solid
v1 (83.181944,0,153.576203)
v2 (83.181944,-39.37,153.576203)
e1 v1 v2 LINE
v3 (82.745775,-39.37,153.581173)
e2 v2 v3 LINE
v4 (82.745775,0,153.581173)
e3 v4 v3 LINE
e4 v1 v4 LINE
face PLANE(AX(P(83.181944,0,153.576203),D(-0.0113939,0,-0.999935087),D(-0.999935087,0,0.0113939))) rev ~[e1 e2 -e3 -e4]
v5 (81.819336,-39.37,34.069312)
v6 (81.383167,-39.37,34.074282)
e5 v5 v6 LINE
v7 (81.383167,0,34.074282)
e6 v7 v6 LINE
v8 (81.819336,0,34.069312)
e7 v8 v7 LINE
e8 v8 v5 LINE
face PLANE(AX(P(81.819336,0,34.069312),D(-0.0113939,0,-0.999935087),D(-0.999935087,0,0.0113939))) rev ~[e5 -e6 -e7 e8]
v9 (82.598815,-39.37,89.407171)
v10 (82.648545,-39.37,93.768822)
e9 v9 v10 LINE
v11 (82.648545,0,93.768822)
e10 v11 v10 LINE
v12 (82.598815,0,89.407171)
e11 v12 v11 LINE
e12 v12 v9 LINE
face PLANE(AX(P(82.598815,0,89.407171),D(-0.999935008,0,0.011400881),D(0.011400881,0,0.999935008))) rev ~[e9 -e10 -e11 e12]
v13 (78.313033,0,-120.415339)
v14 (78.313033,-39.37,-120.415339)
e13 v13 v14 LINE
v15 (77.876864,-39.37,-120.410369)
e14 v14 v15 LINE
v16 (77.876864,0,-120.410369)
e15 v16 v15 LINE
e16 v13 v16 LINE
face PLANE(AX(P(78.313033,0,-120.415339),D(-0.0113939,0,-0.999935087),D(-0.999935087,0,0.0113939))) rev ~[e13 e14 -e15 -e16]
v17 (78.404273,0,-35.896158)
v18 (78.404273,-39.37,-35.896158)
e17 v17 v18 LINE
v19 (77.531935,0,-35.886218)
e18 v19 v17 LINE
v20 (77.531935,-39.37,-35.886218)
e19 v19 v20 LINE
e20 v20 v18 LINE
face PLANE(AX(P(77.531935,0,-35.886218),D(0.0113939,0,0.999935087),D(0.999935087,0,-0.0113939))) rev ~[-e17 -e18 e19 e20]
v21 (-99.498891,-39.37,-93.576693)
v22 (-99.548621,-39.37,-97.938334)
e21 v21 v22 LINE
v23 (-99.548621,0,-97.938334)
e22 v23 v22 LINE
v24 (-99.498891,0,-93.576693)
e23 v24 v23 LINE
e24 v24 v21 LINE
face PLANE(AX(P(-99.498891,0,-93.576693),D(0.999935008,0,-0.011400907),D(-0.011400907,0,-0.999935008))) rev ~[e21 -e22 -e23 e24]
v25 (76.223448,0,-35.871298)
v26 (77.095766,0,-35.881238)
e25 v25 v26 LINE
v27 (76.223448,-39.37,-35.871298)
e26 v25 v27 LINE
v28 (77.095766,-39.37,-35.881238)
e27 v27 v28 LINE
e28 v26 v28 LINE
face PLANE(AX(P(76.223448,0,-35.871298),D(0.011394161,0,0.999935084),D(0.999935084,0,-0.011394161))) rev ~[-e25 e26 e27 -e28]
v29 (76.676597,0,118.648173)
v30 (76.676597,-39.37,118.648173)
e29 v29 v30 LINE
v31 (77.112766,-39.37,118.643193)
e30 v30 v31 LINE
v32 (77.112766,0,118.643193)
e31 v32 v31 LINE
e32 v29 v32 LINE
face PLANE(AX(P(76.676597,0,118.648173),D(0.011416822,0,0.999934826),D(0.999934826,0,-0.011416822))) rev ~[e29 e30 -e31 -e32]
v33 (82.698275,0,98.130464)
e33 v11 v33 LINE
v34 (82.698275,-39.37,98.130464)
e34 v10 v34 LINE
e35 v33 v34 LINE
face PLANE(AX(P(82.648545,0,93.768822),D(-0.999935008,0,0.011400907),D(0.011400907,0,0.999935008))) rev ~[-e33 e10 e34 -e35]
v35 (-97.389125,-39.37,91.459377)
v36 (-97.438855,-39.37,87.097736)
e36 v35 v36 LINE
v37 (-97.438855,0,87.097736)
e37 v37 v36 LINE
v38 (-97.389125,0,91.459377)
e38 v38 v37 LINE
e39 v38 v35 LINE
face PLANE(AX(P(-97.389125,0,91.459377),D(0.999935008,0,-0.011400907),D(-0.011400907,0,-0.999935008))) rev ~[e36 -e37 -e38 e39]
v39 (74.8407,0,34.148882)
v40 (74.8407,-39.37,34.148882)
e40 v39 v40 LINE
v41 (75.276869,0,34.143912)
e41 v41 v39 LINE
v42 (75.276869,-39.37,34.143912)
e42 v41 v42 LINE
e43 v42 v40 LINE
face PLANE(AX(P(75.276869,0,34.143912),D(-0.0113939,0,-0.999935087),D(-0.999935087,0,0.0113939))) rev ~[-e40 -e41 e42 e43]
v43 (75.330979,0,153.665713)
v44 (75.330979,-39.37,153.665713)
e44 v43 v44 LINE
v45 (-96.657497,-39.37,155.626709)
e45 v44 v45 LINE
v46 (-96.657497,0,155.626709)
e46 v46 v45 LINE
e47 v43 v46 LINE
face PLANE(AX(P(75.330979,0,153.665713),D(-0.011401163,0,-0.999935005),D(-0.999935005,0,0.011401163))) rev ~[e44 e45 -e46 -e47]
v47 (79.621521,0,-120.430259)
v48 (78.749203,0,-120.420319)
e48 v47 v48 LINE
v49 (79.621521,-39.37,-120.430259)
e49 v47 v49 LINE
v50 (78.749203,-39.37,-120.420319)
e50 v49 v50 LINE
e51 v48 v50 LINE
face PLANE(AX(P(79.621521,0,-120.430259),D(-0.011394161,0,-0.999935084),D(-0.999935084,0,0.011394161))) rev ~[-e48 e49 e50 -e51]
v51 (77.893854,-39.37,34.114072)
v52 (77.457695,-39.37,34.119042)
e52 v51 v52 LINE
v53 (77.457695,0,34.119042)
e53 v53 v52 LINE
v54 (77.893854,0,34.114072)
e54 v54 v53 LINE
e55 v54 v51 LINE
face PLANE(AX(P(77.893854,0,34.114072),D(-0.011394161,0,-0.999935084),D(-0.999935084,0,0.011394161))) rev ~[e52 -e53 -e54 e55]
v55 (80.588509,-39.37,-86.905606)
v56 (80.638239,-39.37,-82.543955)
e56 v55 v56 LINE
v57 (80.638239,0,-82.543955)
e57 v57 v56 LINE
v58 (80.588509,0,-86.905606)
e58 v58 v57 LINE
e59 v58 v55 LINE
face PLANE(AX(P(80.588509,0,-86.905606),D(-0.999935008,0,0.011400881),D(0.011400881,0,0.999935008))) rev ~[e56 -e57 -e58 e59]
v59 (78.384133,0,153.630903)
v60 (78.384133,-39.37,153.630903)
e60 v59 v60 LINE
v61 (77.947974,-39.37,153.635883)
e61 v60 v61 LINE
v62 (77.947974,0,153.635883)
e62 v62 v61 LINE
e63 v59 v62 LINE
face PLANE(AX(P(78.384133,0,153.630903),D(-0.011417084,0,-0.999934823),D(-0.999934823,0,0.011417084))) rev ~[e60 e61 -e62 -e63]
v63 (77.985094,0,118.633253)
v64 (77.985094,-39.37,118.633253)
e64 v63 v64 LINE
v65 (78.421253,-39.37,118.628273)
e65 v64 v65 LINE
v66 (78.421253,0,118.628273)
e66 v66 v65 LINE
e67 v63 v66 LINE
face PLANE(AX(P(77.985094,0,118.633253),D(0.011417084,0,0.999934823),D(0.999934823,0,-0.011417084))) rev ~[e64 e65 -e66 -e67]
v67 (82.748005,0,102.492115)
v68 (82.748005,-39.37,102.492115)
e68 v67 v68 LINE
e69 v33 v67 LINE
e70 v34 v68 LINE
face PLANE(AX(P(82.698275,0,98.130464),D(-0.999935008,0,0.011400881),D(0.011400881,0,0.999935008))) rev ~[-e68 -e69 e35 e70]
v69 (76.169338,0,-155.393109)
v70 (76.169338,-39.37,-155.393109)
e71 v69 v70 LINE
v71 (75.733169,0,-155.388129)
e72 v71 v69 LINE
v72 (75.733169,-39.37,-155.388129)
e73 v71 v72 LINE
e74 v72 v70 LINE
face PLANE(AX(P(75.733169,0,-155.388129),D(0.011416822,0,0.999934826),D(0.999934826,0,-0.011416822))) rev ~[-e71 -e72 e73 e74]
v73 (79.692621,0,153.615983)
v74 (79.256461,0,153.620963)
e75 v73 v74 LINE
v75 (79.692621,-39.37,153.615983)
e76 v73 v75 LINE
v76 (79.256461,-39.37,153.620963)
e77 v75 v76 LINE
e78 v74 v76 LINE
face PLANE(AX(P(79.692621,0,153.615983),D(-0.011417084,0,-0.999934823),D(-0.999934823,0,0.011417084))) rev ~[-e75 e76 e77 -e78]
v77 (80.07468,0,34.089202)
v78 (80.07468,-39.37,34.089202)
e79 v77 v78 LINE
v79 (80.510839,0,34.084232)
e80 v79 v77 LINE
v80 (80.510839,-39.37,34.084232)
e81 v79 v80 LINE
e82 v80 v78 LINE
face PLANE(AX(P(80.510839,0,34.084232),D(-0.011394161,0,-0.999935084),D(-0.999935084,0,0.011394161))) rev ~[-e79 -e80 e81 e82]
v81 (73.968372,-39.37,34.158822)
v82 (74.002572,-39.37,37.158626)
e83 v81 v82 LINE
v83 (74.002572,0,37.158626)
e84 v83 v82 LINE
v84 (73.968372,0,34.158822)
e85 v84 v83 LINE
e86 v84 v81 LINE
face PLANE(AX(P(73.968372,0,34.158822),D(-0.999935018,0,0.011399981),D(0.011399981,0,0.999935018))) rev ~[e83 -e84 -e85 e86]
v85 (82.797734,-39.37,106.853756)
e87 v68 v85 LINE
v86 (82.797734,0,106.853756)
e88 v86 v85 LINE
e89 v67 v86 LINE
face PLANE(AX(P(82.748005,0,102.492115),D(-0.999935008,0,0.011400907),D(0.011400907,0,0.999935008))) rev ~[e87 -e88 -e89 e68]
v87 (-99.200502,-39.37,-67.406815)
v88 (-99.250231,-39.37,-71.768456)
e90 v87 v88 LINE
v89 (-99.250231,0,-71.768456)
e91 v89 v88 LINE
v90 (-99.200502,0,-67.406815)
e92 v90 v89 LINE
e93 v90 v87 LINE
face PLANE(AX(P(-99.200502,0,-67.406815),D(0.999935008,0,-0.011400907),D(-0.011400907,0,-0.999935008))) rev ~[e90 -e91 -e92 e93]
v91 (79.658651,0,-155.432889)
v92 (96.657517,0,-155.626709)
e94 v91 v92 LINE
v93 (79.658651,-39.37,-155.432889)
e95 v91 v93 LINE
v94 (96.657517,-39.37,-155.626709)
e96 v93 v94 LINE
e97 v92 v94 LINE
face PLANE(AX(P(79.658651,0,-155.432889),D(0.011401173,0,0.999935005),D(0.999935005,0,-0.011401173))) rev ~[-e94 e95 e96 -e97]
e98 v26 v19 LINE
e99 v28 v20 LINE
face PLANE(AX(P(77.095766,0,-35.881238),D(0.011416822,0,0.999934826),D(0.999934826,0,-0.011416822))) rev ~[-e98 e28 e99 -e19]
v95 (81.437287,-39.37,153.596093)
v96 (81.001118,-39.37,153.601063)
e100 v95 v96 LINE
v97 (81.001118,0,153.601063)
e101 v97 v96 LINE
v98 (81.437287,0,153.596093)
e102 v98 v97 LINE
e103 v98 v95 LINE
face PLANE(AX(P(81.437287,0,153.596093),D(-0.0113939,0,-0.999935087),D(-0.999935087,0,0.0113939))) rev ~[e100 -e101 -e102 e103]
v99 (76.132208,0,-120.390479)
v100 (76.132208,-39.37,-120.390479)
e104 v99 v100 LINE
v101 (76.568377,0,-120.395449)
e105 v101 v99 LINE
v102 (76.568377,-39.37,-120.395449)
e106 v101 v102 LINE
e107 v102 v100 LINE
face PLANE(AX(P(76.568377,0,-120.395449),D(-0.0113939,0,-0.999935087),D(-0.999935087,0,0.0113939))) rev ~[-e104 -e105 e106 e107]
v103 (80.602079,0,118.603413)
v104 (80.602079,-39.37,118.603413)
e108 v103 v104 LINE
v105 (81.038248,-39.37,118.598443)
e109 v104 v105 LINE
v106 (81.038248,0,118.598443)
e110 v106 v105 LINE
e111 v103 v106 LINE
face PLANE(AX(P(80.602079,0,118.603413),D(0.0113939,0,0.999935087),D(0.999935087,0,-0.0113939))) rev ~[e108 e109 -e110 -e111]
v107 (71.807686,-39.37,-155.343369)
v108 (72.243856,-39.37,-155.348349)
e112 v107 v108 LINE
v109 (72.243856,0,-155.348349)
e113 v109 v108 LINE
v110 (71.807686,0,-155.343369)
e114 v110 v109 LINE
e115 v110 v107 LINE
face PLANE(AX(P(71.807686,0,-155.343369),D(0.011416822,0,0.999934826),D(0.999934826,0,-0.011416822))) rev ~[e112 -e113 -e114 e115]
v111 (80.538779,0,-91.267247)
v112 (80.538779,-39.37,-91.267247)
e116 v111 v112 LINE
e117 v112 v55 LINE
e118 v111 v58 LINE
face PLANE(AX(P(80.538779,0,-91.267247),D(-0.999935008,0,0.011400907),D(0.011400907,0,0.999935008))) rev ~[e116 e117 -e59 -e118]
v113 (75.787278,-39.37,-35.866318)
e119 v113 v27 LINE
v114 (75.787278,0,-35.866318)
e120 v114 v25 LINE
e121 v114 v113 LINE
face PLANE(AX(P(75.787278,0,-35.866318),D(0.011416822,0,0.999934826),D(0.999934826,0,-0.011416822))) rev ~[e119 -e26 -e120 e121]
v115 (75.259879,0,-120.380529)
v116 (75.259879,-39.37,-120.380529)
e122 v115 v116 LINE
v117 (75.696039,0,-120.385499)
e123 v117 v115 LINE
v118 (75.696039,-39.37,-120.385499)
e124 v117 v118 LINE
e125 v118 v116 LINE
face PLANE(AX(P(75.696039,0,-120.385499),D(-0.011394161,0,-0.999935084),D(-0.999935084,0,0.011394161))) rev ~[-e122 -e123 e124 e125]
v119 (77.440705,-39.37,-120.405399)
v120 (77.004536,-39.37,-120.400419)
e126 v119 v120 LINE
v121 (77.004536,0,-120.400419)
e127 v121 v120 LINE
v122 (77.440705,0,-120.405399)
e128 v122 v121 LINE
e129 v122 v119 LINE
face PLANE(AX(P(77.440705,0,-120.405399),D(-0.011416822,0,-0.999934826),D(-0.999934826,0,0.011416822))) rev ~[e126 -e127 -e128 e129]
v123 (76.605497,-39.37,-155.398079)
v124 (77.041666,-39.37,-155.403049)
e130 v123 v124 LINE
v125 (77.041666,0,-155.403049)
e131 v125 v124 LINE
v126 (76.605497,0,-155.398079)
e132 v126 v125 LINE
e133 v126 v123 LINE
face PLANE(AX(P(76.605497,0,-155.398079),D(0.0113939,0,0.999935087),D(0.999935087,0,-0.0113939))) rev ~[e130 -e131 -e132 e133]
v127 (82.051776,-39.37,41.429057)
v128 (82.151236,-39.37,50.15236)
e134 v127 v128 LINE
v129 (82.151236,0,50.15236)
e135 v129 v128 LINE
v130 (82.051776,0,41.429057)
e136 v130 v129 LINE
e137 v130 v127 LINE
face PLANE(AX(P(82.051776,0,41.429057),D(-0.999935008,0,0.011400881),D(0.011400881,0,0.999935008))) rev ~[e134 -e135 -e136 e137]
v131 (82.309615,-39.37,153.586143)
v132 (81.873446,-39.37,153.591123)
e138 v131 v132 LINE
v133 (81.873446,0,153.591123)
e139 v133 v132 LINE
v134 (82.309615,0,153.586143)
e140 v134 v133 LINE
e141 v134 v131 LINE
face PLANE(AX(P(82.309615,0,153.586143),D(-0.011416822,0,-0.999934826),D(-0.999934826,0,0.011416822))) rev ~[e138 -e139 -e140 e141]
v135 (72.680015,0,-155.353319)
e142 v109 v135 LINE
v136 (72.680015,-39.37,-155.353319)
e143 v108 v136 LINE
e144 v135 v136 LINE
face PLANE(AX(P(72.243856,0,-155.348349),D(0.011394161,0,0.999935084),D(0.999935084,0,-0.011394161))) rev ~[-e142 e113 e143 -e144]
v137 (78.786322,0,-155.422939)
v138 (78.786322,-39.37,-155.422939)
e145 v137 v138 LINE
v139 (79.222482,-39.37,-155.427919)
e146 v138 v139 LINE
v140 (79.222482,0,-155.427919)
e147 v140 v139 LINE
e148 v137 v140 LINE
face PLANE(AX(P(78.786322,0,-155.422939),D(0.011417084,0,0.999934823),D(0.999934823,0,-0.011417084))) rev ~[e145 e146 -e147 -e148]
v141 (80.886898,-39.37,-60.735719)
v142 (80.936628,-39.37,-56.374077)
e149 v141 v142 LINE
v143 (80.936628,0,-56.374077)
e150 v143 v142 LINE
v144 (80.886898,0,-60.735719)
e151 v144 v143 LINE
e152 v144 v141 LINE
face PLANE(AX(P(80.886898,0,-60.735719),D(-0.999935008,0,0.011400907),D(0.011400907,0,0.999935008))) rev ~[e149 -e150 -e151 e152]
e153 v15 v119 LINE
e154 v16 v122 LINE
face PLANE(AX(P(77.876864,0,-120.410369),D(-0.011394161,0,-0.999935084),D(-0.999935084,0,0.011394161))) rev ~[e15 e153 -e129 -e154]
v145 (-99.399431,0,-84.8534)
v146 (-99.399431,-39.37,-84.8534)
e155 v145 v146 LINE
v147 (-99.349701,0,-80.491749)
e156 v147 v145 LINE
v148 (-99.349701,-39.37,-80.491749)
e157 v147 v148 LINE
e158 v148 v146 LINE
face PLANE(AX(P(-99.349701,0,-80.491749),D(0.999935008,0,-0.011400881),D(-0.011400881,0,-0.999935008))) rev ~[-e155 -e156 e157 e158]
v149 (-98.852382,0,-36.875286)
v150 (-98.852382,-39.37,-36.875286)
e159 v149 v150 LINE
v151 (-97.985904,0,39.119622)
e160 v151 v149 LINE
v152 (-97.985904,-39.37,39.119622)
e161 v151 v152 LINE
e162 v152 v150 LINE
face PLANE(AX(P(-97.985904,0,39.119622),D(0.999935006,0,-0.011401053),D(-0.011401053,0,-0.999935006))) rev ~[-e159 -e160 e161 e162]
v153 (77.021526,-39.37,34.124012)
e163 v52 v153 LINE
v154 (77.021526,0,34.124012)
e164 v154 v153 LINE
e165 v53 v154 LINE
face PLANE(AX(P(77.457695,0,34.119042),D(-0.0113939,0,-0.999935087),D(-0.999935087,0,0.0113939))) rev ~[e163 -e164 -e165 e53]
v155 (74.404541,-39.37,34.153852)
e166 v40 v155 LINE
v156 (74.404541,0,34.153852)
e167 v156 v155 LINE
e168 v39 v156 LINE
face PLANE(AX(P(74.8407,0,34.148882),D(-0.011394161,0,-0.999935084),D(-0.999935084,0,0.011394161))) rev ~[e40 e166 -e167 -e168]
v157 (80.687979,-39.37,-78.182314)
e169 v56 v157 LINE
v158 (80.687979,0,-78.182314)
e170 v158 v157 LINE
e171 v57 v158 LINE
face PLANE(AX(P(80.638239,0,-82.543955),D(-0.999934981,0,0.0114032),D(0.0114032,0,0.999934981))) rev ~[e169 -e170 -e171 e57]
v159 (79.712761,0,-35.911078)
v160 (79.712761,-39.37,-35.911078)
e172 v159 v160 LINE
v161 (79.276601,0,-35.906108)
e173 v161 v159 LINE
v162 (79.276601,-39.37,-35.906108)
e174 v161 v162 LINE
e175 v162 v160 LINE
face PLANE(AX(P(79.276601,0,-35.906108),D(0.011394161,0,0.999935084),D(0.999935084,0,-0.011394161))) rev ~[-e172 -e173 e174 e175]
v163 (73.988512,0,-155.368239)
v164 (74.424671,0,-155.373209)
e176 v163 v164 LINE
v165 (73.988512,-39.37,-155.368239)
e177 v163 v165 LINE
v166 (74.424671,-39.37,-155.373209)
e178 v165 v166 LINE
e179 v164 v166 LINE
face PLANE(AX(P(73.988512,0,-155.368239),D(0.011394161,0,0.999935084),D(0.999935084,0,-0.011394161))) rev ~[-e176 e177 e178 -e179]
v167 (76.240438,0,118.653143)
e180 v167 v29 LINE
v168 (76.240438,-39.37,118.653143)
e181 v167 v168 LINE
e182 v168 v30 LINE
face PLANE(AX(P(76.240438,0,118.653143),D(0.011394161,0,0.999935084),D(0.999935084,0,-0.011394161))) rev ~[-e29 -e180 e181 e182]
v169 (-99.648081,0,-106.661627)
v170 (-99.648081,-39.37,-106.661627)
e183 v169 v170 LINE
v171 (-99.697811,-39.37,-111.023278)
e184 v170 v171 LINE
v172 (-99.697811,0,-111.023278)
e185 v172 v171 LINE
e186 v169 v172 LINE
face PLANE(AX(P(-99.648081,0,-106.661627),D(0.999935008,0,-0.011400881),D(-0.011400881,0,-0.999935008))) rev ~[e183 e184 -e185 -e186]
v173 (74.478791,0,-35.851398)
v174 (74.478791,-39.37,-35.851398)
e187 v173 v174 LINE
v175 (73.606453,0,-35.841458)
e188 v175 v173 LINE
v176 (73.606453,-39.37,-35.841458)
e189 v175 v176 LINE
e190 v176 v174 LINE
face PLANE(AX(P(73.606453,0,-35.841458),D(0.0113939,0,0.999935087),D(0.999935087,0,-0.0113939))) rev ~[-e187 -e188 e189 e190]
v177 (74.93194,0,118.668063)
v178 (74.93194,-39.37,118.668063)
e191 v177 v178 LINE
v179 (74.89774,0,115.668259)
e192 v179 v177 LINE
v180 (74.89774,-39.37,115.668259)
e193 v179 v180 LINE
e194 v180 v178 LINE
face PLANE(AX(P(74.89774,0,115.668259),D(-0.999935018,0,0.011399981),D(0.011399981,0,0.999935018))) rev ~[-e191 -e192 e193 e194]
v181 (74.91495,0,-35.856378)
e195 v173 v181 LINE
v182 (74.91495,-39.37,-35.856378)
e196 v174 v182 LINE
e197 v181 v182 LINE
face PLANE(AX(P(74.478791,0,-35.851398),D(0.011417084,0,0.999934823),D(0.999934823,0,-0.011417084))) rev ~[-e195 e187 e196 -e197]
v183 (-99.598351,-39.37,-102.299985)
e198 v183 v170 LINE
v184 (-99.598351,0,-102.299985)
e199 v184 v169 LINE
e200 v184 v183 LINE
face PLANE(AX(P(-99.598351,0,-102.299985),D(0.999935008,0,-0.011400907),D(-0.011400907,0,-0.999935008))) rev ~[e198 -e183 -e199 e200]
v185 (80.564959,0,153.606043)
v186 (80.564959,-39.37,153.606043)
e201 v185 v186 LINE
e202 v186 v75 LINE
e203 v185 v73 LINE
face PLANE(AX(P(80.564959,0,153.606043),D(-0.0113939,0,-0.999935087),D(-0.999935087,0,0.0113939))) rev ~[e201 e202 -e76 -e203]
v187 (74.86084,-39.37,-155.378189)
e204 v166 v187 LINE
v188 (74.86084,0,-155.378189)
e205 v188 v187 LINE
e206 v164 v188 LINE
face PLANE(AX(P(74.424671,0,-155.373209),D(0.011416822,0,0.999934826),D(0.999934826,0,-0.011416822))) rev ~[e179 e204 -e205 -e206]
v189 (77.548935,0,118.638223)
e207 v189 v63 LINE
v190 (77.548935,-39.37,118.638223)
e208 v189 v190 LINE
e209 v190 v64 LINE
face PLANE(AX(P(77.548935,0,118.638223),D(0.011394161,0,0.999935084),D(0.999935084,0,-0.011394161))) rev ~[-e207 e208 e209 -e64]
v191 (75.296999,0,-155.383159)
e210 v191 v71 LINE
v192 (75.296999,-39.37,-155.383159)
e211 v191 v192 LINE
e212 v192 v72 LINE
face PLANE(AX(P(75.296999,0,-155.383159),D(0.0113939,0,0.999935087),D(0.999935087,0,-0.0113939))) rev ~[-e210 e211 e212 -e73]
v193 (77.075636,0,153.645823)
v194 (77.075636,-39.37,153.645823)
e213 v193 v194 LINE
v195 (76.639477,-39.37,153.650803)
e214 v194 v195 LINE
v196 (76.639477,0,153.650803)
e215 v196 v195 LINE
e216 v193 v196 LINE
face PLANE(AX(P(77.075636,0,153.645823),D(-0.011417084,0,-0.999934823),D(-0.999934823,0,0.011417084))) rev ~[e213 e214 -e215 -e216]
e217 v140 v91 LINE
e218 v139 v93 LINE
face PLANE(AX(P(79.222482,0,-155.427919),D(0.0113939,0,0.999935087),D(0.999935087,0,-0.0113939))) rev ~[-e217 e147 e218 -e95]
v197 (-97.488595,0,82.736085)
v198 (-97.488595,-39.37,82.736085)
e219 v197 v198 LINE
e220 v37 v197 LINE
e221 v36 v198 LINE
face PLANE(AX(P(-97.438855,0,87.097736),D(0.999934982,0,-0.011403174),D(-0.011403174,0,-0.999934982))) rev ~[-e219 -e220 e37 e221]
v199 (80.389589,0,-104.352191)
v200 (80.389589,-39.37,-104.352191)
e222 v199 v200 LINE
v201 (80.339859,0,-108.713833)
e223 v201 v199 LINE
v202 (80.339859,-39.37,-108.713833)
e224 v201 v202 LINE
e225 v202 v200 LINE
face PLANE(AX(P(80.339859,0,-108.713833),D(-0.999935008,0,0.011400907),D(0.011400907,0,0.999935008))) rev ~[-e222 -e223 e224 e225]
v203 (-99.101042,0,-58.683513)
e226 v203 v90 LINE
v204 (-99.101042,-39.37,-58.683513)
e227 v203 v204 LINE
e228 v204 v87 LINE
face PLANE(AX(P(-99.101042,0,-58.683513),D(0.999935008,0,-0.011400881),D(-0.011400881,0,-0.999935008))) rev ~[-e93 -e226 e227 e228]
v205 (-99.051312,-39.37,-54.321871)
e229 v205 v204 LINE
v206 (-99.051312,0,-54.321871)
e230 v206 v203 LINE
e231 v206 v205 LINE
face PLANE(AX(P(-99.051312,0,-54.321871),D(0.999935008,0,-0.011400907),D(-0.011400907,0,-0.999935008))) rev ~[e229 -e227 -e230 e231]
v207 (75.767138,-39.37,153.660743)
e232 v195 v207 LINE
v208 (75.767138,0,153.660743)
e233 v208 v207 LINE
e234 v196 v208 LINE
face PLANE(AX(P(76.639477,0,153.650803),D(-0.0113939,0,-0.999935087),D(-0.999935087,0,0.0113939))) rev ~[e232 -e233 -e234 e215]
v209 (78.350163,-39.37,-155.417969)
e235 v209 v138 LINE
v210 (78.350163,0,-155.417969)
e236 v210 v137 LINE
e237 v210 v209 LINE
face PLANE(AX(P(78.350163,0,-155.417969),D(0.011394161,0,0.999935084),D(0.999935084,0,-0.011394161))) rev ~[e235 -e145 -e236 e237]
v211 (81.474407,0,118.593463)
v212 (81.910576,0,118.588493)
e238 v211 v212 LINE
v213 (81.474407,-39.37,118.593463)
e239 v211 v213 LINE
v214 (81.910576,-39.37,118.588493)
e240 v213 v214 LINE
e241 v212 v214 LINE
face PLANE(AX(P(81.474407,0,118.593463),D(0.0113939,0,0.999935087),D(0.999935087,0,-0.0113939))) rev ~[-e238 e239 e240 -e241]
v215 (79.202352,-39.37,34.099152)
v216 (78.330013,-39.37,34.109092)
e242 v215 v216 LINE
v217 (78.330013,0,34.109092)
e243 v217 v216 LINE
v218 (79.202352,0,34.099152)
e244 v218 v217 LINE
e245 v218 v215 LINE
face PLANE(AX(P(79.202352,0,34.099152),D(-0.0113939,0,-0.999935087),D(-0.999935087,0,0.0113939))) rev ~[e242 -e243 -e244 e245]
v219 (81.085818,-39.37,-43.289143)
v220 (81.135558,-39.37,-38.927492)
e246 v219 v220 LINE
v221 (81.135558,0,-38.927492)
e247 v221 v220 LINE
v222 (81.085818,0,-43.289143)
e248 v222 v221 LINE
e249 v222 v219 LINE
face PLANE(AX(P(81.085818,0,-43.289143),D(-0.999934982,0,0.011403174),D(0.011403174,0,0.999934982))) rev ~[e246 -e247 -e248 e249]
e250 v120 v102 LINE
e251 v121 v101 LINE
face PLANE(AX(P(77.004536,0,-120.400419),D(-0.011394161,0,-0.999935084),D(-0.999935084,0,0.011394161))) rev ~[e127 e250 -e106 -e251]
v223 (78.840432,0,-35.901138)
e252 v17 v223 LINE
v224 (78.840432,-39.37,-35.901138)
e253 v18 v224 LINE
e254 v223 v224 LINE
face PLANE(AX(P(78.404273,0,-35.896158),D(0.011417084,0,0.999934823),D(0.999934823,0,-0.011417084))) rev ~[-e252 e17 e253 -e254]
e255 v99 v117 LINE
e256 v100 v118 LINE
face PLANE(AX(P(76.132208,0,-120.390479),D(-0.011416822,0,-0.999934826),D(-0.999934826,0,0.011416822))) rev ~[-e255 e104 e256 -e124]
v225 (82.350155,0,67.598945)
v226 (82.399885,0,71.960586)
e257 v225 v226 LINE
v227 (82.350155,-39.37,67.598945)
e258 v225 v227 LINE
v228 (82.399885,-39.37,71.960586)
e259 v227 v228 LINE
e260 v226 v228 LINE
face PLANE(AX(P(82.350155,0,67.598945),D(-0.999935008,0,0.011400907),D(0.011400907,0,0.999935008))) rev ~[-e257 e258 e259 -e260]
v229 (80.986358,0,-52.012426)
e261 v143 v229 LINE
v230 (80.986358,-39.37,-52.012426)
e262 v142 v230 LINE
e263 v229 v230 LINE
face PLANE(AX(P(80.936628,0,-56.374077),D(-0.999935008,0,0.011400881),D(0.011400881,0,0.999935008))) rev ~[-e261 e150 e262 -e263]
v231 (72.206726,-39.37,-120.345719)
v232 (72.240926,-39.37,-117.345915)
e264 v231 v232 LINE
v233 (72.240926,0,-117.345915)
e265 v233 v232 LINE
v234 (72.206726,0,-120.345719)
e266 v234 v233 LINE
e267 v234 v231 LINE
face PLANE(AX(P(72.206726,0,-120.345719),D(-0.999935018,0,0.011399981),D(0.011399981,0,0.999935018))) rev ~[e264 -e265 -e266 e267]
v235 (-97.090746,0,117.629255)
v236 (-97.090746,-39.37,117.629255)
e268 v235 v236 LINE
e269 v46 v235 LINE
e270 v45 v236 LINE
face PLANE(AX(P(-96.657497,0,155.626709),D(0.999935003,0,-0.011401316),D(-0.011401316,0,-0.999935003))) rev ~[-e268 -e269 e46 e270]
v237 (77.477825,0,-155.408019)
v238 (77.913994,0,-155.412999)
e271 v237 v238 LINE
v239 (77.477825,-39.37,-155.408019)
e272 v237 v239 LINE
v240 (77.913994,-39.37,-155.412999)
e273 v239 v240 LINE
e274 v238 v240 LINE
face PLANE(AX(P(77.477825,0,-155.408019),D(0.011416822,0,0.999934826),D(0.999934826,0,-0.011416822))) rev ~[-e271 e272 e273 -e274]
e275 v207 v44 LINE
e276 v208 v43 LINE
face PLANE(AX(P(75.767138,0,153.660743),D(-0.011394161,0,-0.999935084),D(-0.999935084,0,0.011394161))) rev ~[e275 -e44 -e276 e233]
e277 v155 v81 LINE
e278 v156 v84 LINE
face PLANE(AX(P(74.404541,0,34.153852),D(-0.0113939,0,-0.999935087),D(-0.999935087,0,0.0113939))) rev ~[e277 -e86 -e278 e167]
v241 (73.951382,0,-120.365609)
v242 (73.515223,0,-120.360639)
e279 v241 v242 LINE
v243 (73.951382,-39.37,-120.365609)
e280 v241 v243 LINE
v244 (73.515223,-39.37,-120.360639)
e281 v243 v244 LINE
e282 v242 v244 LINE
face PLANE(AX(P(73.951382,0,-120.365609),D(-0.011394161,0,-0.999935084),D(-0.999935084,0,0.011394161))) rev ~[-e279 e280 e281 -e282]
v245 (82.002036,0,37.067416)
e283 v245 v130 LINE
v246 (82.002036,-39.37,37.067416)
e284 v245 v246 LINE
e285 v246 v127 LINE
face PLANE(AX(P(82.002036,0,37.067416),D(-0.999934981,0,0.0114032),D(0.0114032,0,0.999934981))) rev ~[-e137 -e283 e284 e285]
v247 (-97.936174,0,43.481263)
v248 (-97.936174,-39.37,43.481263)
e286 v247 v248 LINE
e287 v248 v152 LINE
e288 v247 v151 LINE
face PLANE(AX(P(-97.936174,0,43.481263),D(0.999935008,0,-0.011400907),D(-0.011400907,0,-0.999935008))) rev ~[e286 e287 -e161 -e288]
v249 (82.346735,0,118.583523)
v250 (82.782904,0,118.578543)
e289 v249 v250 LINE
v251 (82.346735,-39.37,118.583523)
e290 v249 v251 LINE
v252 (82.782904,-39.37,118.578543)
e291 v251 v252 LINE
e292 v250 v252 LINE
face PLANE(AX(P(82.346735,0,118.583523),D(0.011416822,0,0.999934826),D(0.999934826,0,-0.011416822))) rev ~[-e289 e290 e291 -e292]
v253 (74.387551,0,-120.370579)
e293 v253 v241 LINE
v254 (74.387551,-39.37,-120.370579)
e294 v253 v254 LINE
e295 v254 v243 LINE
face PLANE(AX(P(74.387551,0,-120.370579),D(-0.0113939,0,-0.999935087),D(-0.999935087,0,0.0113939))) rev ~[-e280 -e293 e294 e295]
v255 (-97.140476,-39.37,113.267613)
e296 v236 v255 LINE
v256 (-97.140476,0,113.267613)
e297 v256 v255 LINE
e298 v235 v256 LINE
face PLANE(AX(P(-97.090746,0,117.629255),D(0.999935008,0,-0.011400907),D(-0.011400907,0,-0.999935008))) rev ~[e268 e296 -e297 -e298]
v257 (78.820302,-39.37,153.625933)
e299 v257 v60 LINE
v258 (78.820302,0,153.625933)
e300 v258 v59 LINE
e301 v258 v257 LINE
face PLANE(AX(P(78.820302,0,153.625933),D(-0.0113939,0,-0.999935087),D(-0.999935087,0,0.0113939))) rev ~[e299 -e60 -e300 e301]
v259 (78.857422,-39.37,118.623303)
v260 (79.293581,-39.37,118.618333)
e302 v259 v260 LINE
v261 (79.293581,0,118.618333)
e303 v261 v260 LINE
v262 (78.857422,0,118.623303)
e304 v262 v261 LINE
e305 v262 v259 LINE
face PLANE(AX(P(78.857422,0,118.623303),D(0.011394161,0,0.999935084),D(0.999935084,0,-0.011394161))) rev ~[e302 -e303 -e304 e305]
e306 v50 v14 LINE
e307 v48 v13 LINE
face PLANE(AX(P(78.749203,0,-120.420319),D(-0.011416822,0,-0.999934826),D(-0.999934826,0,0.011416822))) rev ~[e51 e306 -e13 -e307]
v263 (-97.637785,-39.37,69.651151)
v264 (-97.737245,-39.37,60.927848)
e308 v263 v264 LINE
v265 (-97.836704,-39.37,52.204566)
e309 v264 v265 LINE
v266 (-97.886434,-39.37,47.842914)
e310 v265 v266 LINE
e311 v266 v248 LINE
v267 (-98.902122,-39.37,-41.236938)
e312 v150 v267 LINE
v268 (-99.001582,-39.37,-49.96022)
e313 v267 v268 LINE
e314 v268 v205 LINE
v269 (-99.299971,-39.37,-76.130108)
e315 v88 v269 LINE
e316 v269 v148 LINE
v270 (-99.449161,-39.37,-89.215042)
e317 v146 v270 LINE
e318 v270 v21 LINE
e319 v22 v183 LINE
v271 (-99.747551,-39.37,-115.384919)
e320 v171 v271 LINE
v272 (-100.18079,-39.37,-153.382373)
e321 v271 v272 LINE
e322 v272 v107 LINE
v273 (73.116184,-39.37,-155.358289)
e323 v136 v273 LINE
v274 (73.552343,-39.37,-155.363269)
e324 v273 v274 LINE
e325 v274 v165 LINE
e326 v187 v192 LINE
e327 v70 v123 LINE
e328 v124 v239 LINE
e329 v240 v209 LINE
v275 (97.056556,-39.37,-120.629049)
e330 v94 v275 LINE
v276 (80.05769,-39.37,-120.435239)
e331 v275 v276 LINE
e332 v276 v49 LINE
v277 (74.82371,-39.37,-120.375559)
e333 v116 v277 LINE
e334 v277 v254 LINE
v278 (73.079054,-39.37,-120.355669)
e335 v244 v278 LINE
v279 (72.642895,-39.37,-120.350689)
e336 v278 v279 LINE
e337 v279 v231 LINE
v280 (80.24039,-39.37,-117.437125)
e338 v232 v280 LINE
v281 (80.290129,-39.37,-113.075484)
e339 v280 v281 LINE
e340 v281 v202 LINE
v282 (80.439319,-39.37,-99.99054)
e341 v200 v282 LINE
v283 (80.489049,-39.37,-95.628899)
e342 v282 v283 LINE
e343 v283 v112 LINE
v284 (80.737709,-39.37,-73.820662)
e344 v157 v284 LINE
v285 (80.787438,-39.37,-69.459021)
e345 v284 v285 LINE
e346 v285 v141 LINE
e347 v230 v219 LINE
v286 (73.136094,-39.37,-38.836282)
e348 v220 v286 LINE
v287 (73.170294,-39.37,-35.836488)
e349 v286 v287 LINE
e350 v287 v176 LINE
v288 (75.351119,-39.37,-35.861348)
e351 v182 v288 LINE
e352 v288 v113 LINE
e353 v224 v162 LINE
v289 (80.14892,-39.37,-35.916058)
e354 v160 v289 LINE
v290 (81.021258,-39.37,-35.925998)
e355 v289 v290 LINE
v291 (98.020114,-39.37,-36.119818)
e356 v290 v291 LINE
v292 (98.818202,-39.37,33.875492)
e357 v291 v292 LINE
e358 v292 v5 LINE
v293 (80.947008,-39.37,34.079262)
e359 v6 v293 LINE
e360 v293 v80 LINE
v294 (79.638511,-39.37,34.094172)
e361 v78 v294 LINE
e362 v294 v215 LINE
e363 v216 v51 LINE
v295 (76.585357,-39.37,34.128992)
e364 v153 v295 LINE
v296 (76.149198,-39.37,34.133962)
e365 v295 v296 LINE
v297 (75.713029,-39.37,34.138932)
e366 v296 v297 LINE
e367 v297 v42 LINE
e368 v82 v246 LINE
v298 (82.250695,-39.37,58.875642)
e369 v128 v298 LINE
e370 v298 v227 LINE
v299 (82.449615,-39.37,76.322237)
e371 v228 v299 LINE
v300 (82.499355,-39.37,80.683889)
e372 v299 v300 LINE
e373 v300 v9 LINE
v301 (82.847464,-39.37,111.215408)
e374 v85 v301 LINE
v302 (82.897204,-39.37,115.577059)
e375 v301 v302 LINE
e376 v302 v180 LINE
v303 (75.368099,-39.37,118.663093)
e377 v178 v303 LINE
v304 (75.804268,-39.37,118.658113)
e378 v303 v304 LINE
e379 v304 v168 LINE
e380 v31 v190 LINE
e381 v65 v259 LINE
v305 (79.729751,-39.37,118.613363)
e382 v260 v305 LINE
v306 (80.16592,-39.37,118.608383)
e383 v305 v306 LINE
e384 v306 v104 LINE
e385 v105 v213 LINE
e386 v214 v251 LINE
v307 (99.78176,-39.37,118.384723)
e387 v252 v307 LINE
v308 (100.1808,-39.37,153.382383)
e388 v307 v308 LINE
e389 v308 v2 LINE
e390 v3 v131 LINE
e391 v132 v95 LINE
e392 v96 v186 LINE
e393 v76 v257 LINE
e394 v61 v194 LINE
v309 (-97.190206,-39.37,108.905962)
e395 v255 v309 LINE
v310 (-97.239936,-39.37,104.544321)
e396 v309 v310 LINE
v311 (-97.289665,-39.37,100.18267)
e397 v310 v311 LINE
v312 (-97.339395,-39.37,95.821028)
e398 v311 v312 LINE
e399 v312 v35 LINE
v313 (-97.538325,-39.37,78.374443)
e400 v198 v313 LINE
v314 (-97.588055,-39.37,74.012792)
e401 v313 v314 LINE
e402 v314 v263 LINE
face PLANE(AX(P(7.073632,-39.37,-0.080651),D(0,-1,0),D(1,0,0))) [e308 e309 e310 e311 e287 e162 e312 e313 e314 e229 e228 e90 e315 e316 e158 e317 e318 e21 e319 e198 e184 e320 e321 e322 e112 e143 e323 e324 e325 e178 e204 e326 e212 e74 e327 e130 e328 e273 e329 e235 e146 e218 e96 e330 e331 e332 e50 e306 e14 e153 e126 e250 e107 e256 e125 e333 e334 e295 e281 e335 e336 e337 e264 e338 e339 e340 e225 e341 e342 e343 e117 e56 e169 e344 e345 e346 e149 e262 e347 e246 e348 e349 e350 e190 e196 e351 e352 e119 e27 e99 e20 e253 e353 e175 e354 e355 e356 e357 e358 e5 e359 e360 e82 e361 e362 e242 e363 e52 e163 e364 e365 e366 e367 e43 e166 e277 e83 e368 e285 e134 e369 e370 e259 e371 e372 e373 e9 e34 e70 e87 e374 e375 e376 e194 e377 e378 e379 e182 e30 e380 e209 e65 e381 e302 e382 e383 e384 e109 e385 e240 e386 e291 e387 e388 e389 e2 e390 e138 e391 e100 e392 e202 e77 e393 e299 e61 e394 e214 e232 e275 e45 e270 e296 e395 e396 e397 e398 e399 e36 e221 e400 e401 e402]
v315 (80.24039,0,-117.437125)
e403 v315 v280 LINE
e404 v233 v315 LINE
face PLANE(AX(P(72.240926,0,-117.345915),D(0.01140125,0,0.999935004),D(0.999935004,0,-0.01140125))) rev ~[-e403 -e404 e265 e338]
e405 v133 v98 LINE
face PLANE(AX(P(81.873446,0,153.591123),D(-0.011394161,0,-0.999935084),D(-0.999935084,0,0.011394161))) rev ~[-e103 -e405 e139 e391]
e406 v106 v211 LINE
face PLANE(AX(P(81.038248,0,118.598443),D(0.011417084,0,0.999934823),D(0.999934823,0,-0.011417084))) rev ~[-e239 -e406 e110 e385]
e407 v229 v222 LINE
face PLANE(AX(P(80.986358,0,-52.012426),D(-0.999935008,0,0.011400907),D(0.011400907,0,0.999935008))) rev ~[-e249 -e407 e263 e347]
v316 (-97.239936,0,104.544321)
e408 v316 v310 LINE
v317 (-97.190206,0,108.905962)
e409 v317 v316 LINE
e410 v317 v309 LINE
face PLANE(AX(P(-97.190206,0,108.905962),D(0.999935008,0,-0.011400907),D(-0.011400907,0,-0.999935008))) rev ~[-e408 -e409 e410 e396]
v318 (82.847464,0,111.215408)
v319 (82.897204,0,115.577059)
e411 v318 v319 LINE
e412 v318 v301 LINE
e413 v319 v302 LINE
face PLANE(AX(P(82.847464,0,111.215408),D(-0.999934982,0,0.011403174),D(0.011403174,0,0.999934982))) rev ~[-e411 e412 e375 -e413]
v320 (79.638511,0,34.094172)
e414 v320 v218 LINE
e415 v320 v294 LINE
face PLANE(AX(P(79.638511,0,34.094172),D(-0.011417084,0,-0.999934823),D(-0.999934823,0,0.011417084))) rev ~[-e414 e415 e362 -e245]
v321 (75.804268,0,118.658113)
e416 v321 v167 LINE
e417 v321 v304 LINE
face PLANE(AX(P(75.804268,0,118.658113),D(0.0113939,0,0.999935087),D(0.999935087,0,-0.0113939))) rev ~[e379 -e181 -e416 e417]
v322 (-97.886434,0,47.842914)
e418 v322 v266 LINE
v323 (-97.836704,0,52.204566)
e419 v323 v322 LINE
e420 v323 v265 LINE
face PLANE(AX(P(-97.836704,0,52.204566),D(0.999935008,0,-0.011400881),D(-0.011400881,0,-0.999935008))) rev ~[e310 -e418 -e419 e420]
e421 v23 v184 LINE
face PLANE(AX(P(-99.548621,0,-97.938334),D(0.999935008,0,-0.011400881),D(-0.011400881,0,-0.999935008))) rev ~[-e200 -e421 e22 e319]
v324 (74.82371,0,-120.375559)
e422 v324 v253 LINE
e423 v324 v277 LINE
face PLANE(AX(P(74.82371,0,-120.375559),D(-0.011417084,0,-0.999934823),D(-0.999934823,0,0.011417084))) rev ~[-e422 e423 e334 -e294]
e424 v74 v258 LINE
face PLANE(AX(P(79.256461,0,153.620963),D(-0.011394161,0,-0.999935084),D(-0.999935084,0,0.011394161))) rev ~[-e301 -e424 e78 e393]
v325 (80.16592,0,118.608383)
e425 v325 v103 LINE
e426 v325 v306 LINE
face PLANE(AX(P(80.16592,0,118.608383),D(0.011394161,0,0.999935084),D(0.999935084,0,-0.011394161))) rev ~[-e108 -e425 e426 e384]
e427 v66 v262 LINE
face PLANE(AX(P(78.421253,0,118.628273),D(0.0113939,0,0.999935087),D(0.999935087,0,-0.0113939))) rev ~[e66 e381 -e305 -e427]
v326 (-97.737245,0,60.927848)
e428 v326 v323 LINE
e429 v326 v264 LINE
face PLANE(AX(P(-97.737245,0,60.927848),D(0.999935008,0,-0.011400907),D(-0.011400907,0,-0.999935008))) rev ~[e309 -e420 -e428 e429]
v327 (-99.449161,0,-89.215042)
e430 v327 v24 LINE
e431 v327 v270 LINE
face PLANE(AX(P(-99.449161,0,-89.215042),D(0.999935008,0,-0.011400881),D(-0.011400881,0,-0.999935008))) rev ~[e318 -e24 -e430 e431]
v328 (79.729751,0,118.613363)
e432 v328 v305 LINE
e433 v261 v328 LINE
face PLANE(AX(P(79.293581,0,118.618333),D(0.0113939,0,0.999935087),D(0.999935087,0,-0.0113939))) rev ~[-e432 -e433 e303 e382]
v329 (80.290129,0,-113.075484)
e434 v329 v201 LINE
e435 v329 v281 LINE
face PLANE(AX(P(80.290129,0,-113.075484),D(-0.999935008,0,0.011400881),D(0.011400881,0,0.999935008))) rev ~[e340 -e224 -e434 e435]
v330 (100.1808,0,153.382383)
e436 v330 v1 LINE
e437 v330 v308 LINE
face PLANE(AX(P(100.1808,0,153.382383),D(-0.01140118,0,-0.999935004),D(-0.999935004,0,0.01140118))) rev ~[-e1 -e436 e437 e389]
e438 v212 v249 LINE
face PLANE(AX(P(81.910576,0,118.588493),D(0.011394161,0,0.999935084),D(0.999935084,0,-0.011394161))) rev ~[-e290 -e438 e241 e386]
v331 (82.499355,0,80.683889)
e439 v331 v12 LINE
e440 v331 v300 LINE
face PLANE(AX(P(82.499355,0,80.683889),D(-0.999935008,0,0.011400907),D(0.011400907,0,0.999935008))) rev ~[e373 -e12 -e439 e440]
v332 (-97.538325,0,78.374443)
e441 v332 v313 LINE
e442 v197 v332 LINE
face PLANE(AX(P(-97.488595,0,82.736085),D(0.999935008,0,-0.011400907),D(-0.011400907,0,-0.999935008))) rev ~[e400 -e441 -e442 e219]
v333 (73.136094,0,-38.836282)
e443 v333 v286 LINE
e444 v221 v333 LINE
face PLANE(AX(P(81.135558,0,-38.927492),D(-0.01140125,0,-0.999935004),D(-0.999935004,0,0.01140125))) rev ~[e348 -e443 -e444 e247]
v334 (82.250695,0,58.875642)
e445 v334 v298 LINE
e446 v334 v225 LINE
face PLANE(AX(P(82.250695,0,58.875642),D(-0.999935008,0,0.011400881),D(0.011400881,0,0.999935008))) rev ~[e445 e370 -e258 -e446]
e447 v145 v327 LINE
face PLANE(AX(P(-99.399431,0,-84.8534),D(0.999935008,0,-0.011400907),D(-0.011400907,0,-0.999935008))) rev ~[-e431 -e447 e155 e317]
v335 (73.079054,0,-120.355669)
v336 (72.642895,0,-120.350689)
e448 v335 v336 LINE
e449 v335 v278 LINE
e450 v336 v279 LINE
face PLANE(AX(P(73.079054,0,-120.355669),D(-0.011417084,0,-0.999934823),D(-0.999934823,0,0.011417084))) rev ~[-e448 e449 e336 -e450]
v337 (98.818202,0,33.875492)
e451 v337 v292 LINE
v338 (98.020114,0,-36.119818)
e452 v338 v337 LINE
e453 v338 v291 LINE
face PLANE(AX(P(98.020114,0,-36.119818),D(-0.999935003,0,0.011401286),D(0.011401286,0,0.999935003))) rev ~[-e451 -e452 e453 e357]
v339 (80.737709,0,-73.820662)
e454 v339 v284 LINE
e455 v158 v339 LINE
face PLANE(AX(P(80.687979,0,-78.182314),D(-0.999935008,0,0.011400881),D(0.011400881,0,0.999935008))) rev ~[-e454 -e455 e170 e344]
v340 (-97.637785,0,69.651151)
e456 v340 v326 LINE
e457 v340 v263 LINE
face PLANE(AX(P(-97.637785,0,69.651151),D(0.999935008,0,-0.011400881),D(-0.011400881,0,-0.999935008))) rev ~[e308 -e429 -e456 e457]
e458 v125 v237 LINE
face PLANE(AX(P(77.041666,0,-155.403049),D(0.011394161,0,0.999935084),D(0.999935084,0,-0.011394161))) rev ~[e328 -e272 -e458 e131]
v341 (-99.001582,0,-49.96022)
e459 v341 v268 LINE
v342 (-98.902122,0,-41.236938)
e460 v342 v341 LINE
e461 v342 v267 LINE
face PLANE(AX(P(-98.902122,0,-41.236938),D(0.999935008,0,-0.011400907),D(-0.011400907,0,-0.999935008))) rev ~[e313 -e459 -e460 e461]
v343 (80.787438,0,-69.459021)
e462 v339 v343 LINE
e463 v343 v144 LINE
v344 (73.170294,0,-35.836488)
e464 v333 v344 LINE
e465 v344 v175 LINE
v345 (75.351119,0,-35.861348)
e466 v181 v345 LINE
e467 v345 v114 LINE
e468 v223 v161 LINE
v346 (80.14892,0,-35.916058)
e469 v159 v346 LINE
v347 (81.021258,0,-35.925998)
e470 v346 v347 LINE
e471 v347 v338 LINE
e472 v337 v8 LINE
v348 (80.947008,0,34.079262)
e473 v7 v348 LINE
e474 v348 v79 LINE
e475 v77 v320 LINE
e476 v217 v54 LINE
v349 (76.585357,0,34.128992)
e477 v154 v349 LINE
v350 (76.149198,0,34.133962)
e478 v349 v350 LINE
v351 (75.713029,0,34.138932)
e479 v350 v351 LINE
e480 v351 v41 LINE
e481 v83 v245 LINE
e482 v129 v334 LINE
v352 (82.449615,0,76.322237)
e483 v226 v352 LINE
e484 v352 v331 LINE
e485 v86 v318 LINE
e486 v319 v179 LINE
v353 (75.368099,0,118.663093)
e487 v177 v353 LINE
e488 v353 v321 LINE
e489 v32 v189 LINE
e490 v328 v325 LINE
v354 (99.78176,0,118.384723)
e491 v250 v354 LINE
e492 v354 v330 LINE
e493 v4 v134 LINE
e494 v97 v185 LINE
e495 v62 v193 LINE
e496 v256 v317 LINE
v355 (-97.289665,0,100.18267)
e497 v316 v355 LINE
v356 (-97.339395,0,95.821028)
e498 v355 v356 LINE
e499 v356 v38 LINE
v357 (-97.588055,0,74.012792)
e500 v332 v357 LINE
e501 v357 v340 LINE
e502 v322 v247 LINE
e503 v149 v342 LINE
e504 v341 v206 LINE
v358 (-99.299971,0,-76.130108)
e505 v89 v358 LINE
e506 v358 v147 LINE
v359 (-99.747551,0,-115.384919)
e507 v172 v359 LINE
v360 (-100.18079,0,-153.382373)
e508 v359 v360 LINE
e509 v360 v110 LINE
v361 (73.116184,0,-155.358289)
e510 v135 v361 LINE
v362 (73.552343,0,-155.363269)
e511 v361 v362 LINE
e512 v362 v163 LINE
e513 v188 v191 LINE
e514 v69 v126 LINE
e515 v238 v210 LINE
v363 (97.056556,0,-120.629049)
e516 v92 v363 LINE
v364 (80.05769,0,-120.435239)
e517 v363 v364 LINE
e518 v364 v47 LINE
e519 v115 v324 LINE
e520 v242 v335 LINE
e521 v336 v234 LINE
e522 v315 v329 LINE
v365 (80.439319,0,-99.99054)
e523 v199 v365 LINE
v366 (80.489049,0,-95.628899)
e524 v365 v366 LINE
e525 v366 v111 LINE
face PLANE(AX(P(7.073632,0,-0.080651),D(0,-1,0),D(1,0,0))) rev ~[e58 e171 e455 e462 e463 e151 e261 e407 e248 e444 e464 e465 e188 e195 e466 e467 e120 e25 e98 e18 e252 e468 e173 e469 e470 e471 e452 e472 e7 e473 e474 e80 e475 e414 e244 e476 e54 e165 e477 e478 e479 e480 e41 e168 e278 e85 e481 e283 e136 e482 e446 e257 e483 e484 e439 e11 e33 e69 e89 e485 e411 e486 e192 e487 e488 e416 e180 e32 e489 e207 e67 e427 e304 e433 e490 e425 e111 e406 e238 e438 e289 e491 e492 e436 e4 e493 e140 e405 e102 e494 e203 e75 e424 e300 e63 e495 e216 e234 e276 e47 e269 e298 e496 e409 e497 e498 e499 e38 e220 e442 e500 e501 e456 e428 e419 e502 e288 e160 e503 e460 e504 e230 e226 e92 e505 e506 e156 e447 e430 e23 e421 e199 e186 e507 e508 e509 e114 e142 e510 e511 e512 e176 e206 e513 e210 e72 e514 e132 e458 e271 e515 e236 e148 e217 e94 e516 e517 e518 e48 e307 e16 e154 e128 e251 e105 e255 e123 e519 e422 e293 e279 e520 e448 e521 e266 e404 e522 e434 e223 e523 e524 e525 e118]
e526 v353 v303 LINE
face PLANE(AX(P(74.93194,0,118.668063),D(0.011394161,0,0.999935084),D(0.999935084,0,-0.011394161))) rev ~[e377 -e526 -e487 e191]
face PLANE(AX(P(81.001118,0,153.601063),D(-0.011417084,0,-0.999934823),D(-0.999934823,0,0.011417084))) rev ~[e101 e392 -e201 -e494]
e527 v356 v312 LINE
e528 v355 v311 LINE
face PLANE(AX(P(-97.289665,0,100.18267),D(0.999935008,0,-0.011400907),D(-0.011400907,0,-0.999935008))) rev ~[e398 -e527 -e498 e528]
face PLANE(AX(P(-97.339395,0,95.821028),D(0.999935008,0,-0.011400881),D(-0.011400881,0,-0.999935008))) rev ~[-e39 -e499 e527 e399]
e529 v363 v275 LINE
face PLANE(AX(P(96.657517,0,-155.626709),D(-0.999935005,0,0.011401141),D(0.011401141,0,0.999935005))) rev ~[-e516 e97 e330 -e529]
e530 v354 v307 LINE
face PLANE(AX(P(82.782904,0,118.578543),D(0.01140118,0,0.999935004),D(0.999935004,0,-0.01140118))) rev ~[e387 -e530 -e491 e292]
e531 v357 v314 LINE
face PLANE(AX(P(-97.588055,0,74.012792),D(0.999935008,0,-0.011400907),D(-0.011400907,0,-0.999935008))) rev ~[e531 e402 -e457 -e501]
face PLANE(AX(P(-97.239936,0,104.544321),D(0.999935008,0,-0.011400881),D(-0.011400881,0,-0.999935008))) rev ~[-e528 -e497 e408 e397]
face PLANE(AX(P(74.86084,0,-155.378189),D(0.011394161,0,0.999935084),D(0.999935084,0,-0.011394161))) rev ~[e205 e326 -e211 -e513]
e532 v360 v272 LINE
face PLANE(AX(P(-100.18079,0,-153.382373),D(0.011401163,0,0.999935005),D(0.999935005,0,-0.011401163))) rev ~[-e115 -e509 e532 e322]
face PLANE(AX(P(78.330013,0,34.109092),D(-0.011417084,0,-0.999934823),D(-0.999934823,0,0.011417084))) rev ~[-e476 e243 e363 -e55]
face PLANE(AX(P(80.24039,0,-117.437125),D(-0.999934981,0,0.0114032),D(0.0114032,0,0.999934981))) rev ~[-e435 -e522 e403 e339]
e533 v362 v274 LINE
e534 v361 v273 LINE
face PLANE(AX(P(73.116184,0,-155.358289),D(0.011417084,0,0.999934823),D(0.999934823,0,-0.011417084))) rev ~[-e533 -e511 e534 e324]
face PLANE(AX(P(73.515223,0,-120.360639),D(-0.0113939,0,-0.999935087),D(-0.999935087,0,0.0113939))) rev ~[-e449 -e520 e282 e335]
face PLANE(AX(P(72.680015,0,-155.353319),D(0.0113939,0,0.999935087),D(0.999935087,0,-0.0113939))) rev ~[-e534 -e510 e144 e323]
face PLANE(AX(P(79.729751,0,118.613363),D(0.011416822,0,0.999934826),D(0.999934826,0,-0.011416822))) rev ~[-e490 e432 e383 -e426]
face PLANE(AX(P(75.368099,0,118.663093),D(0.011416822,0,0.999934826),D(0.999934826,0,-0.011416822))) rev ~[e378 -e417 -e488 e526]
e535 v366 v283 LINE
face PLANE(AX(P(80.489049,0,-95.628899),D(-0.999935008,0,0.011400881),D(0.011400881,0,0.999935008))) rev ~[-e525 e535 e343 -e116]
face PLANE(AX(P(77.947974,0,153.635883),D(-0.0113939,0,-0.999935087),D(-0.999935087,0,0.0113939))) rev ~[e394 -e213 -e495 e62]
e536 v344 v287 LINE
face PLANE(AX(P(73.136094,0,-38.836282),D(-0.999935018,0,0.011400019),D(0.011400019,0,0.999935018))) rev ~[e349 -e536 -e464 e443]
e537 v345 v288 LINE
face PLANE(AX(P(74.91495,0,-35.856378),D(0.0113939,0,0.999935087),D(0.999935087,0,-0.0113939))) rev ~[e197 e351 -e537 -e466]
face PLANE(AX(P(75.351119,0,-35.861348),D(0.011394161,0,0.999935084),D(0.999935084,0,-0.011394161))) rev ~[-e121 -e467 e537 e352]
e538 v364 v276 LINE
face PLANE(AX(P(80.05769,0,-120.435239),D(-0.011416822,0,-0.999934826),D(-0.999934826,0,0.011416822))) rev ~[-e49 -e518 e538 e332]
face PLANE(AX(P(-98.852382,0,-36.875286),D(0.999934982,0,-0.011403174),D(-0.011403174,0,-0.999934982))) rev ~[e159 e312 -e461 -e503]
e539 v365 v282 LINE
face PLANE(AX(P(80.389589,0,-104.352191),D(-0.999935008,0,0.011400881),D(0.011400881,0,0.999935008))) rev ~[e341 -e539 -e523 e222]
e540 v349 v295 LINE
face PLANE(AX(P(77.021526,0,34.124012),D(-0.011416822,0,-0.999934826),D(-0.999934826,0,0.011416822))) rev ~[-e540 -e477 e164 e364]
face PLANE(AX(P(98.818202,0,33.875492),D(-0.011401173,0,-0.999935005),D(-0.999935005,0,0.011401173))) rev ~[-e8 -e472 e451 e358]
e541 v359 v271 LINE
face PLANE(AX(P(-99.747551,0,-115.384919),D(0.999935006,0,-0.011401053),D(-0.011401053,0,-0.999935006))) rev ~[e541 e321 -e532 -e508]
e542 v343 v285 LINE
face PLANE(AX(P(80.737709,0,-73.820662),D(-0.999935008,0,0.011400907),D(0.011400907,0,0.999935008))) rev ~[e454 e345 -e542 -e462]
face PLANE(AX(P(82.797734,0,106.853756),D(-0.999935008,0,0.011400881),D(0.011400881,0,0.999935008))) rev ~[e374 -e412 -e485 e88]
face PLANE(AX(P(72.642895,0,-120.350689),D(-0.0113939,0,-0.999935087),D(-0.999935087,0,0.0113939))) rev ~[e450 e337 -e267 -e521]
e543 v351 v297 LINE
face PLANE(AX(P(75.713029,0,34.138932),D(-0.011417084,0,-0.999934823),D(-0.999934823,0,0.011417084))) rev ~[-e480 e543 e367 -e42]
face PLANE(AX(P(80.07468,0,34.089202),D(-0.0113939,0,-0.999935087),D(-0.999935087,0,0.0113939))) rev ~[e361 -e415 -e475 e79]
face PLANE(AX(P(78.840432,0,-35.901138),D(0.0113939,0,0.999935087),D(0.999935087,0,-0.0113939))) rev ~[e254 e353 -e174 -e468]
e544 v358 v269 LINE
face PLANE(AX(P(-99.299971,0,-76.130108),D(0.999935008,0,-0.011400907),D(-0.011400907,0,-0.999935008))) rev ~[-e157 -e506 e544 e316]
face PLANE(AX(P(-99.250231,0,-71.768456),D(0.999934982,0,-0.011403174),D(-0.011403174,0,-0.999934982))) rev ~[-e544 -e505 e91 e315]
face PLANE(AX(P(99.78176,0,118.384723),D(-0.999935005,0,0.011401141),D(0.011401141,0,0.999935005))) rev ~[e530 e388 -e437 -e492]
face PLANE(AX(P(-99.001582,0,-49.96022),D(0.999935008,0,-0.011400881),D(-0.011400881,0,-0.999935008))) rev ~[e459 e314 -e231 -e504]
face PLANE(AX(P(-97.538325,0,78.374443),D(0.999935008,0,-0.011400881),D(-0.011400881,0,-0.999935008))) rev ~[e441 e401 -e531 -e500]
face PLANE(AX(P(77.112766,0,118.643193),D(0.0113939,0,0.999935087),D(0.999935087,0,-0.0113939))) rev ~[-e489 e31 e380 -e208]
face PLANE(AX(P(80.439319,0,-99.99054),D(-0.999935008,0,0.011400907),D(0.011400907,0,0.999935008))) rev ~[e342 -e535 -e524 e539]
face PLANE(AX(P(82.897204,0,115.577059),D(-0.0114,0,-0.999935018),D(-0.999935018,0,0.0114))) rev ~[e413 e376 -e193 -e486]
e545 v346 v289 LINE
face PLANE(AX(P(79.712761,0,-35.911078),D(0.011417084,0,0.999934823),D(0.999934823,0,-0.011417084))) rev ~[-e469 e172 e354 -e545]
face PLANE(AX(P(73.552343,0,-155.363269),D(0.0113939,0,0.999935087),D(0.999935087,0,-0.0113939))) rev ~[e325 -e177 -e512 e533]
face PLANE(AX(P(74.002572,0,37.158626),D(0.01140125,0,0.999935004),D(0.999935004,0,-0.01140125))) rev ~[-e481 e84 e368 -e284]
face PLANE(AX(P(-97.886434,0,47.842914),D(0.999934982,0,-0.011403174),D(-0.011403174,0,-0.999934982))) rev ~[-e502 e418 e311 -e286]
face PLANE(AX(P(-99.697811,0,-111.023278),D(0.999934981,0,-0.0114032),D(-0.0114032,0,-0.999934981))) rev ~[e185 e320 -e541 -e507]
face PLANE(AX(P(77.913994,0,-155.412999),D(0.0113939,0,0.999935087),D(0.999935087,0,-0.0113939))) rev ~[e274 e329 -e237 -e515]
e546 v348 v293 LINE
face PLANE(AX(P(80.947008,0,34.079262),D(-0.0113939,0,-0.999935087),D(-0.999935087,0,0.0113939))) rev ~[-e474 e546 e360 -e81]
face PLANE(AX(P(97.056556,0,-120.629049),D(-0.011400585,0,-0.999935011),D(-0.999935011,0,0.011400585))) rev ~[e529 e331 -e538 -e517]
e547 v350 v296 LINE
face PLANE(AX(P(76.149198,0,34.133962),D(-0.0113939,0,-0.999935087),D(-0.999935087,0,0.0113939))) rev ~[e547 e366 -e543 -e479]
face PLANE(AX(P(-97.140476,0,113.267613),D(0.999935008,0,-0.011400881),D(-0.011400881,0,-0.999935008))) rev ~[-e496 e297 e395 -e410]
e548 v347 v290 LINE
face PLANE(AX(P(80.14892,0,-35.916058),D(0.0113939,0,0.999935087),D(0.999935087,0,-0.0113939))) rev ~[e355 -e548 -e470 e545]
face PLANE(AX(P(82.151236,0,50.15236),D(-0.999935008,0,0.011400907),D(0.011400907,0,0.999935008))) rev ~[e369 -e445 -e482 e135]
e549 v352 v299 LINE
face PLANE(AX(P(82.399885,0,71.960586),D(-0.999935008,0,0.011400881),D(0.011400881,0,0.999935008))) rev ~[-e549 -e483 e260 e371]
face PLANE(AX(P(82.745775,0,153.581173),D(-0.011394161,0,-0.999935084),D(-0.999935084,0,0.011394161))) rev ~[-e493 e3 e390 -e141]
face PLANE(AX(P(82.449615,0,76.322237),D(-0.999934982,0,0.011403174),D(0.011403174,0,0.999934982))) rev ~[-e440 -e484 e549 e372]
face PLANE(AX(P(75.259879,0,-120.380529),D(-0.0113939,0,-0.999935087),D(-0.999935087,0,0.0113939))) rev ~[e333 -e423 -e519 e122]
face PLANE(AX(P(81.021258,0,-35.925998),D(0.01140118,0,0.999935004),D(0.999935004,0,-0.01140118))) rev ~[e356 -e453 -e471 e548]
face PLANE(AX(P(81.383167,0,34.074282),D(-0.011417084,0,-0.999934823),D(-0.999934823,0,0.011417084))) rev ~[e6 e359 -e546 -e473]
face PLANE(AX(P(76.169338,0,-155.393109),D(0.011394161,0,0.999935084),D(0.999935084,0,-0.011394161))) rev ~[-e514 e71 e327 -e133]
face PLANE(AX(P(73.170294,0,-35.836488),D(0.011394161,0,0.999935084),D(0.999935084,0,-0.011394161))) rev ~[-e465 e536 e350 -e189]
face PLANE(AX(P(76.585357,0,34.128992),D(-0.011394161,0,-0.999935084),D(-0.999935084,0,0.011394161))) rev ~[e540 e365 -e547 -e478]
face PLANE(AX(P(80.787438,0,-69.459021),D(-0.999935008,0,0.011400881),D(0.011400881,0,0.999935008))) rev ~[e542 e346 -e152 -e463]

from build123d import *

# Parameters (mm, degrees)
F1_DEPTH = 100
F2_SCALE = 0.3937


with BuildPart() as f1:
    # F0 (on Front) → F1 (new body)
    with BuildSketch(Plane.XZ):
        Polygon((-253.359285, -293.078281), (-254.4597146, -389.5920072), (182.3918882, -394.5729472), (183.49976, -394.5855964), (184.6076064, -394.5982202), (185.7154782, -394.610844), (186.8233246, -394.6234932), (187.9311964, -394.636117), (189.0390428, -394.6487408), (190.1469146, -394.66139), (191.254761, -394.6740138), (192.3626328, -394.6866376), (193.4705046, -394.6992868), (194.578351, -394.7119106), (195.6862228, -394.7245344), (196.7940692, -394.7371582), (197.901941, -394.7498074), (199.0098128, -394.7624312), (200.1176592, -394.775055), (201.2255056, -394.7877042), (202.3333774, -394.800328), (245.5105834, -395.2926308), (246.524145, -306.3983966), (203.346939, -305.9061192), (202.2390672, -305.89347), (201.1312208, -305.8808462), (200.0233744, -305.8682224), (198.9155026, -305.8555732), (197.8076308, -305.8429494), (196.6997844, -305.8303256), (195.5919126, -305.8176764), (194.4840662, -305.8050526), (193.3761944, -305.7924288), (192.2683226, -305.7797796), (191.1604762, -305.7671558), (190.0526044, -305.754532), (188.944758, -305.7418828), (187.8368862, -305.729259), (186.7290398, -305.7166352), (185.621168, -305.7040114), (184.5133216, -305.6913622), (183.4054498, -305.6787384), (183.4923178, -298.059221), (203.810997, -298.2908944), (203.9373366, -287.2123034), (204.0636508, -276.133687), (204.189965, -265.055096), (204.3162792, -253.9764796), (204.4425934, -242.8978886), (204.5689076, -231.8192722), (204.6952218, -220.7406812), (204.821536, -209.6620648), (204.9478756, -198.5834738), (205.0741898, -187.5048574), (205.200504, -176.4262664), (205.3268182, -165.34765), (205.4531324, -154.2690336), (205.5794466, -143.1904426), (205.7057608, -132.1118262), (205.832075, -121.0332352), (205.9583892, -109.9546442), (206.0847288, -98.8760278), (185.7660496, -98.6443544), (185.8529176, -91.0248624), (186.960764, -91.0374862), (188.0686358, -91.05011), (189.1765076, -91.0627338), (190.284354, -91.075383), (191.3922258, -91.0880068), (192.5000722, -91.1006306), (193.607944, -91.1132798), (194.7157904, -91.1259036), (195.8236368, -91.1385274), (196.9315086, -91.1511766), (198.0393804, -91.1638004), (199.1472522, -91.1764242), (200.2550986, -91.1890734), (201.3629704, -91.2016972), (202.4708168, -91.214321), (203.5786632, -91.2269702), (204.686535, -91.239594), (205.7944068, -91.2522178), (248.9715874, -91.7445206), (250.998736, 86.0439224), (207.82153, 86.5362252), (206.7136582, 86.548849), (205.6058118, 86.5614982), (204.49794, 86.574122), (203.3900936, 86.5867458), (202.2822218, 86.5993696), (201.1743754, 86.6120188), (200.0665036, 86.6246426), (198.9586318, 86.6372664), (197.8507854, 86.6499156), (196.742939, 86.6625394), (195.6350672, 86.6751632), (194.5271954, 86.6878124), (193.419349, 86.7004362), (192.3114772, 86.71306), (191.2036308, 86.7257092), (190.095759, 86.738333), (188.9879126, 86.7509568), (187.8800408, 86.7635806), (187.9669088, 94.383098), (208.285588, 94.1514246), (208.4119276, 105.2300156), (208.5382418, 116.308632), (208.664556, 127.3872484), (208.7908702, 138.4658394), (208.9171844, 149.5444304), (209.0434986, 160.6230468), (209.1698128, 171.7016632), (209.296127, 182.7802542), (209.4224412, 193.8588706), (209.5487808, 204.937487), (209.675095, 216.016078), (209.8014092, 227.094669), (209.9277234, 238.1732854), (210.0540376, 249.2518764), (210.1803518, 260.3304928), (210.306666, 271.4090838), (210.4329802, 282.4877002), (210.5593198, 293.5663166), (190.2406406, 293.7979646), (190.3275086, 301.417482), (191.435355, 301.4048582), (192.5432268, 301.392209), (193.6510986, 301.3795852), (194.758945, 301.3669614), (195.8668168, 301.3543122), (196.9746886, 301.3416884), (198.082535, 301.3290646), (199.1903814, 301.3164154), (200.2982532, 301.3037916), (201.4060996, 301.2911678), (202.5139714, 301.278544), (203.6218432, 301.2658948), (204.7296896, 301.253271), (205.8375614, 301.2406472), (206.9454078, 301.227998), (208.0532796, 301.2153742), (209.161126, 301.2027504), (210.2689978, 301.1901012), (253.4461784, 300.6977984), (254.45974, 389.5920326), (211.2825594, 390.0843354), (210.1746876, 390.0969592), (209.0668412, 390.109583), (207.9589694, 390.1222322), (206.851123, 390.134856), (205.7432512, 390.1474798), (204.6354048, 390.160129), (203.527533, 390.1727528), (202.4196612, 390.1853766), (201.3118148, 390.1980258), (200.2039684, 390.2106496), (199.0960966, 390.2232734), (197.9882502, 390.2359226), (196.8803784, 390.2485464), (195.7725066, 390.2611702), (194.6646602, 390.2738194), (193.5567884, 390.2864432), (192.4489166, 390.299067), (191.3410702, 390.3116908), (-245.5105326, 395.2926308), (-246.6109876, 298.7789046), (-246.7373018, 287.7003136), (-246.863616, 276.6216972), (-246.9899302, 265.5431062), (-247.1162444, 254.4644898), (-247.2425586, 243.3858988), (-247.3688728, 232.3072824), (-247.495187, 221.2286914), (-247.6215266, 210.150075), (-247.7478408, 199.071484), (-247.874155, 187.9928676), (-248.0004692, 176.9142766), (-248.1267834, 165.8356602), (-248.2530976, 154.7570438), (-248.3794118, 143.6784528), (-248.505726, 132.5998618), (-248.6320402, 121.5212454), (-248.7583798, 110.442629), (-248.884694, 99.364038), (-251.0855532, -93.6634144), (-251.2118928, -104.7420308), (-251.338207, -115.8206218), (-251.4645212, -126.8992128), (-251.5908354, -137.9778292), (-251.7171496, -149.0564202), (-251.8434638, -160.1350366), (-251.969778, -171.213653), (-252.0960922, -182.292244), (-252.2224318, -193.3708604), (-252.348746, -204.4494514), (-252.4750602, -215.5280678), (-252.6013744, -226.6066588), (-252.7276886, -237.6852752), (-252.8540028, -248.7638662), (-252.980317, -259.8424826), (-253.1066312, -270.9210736), (-253.2329454, -281.99969), align=None)
    extrude(amount=F1_DEPTH)


with BuildPart() as f1_1:
    # F2: moved
    add(f1.part.scale(F2_SCALE))


solid = f1_1.part
